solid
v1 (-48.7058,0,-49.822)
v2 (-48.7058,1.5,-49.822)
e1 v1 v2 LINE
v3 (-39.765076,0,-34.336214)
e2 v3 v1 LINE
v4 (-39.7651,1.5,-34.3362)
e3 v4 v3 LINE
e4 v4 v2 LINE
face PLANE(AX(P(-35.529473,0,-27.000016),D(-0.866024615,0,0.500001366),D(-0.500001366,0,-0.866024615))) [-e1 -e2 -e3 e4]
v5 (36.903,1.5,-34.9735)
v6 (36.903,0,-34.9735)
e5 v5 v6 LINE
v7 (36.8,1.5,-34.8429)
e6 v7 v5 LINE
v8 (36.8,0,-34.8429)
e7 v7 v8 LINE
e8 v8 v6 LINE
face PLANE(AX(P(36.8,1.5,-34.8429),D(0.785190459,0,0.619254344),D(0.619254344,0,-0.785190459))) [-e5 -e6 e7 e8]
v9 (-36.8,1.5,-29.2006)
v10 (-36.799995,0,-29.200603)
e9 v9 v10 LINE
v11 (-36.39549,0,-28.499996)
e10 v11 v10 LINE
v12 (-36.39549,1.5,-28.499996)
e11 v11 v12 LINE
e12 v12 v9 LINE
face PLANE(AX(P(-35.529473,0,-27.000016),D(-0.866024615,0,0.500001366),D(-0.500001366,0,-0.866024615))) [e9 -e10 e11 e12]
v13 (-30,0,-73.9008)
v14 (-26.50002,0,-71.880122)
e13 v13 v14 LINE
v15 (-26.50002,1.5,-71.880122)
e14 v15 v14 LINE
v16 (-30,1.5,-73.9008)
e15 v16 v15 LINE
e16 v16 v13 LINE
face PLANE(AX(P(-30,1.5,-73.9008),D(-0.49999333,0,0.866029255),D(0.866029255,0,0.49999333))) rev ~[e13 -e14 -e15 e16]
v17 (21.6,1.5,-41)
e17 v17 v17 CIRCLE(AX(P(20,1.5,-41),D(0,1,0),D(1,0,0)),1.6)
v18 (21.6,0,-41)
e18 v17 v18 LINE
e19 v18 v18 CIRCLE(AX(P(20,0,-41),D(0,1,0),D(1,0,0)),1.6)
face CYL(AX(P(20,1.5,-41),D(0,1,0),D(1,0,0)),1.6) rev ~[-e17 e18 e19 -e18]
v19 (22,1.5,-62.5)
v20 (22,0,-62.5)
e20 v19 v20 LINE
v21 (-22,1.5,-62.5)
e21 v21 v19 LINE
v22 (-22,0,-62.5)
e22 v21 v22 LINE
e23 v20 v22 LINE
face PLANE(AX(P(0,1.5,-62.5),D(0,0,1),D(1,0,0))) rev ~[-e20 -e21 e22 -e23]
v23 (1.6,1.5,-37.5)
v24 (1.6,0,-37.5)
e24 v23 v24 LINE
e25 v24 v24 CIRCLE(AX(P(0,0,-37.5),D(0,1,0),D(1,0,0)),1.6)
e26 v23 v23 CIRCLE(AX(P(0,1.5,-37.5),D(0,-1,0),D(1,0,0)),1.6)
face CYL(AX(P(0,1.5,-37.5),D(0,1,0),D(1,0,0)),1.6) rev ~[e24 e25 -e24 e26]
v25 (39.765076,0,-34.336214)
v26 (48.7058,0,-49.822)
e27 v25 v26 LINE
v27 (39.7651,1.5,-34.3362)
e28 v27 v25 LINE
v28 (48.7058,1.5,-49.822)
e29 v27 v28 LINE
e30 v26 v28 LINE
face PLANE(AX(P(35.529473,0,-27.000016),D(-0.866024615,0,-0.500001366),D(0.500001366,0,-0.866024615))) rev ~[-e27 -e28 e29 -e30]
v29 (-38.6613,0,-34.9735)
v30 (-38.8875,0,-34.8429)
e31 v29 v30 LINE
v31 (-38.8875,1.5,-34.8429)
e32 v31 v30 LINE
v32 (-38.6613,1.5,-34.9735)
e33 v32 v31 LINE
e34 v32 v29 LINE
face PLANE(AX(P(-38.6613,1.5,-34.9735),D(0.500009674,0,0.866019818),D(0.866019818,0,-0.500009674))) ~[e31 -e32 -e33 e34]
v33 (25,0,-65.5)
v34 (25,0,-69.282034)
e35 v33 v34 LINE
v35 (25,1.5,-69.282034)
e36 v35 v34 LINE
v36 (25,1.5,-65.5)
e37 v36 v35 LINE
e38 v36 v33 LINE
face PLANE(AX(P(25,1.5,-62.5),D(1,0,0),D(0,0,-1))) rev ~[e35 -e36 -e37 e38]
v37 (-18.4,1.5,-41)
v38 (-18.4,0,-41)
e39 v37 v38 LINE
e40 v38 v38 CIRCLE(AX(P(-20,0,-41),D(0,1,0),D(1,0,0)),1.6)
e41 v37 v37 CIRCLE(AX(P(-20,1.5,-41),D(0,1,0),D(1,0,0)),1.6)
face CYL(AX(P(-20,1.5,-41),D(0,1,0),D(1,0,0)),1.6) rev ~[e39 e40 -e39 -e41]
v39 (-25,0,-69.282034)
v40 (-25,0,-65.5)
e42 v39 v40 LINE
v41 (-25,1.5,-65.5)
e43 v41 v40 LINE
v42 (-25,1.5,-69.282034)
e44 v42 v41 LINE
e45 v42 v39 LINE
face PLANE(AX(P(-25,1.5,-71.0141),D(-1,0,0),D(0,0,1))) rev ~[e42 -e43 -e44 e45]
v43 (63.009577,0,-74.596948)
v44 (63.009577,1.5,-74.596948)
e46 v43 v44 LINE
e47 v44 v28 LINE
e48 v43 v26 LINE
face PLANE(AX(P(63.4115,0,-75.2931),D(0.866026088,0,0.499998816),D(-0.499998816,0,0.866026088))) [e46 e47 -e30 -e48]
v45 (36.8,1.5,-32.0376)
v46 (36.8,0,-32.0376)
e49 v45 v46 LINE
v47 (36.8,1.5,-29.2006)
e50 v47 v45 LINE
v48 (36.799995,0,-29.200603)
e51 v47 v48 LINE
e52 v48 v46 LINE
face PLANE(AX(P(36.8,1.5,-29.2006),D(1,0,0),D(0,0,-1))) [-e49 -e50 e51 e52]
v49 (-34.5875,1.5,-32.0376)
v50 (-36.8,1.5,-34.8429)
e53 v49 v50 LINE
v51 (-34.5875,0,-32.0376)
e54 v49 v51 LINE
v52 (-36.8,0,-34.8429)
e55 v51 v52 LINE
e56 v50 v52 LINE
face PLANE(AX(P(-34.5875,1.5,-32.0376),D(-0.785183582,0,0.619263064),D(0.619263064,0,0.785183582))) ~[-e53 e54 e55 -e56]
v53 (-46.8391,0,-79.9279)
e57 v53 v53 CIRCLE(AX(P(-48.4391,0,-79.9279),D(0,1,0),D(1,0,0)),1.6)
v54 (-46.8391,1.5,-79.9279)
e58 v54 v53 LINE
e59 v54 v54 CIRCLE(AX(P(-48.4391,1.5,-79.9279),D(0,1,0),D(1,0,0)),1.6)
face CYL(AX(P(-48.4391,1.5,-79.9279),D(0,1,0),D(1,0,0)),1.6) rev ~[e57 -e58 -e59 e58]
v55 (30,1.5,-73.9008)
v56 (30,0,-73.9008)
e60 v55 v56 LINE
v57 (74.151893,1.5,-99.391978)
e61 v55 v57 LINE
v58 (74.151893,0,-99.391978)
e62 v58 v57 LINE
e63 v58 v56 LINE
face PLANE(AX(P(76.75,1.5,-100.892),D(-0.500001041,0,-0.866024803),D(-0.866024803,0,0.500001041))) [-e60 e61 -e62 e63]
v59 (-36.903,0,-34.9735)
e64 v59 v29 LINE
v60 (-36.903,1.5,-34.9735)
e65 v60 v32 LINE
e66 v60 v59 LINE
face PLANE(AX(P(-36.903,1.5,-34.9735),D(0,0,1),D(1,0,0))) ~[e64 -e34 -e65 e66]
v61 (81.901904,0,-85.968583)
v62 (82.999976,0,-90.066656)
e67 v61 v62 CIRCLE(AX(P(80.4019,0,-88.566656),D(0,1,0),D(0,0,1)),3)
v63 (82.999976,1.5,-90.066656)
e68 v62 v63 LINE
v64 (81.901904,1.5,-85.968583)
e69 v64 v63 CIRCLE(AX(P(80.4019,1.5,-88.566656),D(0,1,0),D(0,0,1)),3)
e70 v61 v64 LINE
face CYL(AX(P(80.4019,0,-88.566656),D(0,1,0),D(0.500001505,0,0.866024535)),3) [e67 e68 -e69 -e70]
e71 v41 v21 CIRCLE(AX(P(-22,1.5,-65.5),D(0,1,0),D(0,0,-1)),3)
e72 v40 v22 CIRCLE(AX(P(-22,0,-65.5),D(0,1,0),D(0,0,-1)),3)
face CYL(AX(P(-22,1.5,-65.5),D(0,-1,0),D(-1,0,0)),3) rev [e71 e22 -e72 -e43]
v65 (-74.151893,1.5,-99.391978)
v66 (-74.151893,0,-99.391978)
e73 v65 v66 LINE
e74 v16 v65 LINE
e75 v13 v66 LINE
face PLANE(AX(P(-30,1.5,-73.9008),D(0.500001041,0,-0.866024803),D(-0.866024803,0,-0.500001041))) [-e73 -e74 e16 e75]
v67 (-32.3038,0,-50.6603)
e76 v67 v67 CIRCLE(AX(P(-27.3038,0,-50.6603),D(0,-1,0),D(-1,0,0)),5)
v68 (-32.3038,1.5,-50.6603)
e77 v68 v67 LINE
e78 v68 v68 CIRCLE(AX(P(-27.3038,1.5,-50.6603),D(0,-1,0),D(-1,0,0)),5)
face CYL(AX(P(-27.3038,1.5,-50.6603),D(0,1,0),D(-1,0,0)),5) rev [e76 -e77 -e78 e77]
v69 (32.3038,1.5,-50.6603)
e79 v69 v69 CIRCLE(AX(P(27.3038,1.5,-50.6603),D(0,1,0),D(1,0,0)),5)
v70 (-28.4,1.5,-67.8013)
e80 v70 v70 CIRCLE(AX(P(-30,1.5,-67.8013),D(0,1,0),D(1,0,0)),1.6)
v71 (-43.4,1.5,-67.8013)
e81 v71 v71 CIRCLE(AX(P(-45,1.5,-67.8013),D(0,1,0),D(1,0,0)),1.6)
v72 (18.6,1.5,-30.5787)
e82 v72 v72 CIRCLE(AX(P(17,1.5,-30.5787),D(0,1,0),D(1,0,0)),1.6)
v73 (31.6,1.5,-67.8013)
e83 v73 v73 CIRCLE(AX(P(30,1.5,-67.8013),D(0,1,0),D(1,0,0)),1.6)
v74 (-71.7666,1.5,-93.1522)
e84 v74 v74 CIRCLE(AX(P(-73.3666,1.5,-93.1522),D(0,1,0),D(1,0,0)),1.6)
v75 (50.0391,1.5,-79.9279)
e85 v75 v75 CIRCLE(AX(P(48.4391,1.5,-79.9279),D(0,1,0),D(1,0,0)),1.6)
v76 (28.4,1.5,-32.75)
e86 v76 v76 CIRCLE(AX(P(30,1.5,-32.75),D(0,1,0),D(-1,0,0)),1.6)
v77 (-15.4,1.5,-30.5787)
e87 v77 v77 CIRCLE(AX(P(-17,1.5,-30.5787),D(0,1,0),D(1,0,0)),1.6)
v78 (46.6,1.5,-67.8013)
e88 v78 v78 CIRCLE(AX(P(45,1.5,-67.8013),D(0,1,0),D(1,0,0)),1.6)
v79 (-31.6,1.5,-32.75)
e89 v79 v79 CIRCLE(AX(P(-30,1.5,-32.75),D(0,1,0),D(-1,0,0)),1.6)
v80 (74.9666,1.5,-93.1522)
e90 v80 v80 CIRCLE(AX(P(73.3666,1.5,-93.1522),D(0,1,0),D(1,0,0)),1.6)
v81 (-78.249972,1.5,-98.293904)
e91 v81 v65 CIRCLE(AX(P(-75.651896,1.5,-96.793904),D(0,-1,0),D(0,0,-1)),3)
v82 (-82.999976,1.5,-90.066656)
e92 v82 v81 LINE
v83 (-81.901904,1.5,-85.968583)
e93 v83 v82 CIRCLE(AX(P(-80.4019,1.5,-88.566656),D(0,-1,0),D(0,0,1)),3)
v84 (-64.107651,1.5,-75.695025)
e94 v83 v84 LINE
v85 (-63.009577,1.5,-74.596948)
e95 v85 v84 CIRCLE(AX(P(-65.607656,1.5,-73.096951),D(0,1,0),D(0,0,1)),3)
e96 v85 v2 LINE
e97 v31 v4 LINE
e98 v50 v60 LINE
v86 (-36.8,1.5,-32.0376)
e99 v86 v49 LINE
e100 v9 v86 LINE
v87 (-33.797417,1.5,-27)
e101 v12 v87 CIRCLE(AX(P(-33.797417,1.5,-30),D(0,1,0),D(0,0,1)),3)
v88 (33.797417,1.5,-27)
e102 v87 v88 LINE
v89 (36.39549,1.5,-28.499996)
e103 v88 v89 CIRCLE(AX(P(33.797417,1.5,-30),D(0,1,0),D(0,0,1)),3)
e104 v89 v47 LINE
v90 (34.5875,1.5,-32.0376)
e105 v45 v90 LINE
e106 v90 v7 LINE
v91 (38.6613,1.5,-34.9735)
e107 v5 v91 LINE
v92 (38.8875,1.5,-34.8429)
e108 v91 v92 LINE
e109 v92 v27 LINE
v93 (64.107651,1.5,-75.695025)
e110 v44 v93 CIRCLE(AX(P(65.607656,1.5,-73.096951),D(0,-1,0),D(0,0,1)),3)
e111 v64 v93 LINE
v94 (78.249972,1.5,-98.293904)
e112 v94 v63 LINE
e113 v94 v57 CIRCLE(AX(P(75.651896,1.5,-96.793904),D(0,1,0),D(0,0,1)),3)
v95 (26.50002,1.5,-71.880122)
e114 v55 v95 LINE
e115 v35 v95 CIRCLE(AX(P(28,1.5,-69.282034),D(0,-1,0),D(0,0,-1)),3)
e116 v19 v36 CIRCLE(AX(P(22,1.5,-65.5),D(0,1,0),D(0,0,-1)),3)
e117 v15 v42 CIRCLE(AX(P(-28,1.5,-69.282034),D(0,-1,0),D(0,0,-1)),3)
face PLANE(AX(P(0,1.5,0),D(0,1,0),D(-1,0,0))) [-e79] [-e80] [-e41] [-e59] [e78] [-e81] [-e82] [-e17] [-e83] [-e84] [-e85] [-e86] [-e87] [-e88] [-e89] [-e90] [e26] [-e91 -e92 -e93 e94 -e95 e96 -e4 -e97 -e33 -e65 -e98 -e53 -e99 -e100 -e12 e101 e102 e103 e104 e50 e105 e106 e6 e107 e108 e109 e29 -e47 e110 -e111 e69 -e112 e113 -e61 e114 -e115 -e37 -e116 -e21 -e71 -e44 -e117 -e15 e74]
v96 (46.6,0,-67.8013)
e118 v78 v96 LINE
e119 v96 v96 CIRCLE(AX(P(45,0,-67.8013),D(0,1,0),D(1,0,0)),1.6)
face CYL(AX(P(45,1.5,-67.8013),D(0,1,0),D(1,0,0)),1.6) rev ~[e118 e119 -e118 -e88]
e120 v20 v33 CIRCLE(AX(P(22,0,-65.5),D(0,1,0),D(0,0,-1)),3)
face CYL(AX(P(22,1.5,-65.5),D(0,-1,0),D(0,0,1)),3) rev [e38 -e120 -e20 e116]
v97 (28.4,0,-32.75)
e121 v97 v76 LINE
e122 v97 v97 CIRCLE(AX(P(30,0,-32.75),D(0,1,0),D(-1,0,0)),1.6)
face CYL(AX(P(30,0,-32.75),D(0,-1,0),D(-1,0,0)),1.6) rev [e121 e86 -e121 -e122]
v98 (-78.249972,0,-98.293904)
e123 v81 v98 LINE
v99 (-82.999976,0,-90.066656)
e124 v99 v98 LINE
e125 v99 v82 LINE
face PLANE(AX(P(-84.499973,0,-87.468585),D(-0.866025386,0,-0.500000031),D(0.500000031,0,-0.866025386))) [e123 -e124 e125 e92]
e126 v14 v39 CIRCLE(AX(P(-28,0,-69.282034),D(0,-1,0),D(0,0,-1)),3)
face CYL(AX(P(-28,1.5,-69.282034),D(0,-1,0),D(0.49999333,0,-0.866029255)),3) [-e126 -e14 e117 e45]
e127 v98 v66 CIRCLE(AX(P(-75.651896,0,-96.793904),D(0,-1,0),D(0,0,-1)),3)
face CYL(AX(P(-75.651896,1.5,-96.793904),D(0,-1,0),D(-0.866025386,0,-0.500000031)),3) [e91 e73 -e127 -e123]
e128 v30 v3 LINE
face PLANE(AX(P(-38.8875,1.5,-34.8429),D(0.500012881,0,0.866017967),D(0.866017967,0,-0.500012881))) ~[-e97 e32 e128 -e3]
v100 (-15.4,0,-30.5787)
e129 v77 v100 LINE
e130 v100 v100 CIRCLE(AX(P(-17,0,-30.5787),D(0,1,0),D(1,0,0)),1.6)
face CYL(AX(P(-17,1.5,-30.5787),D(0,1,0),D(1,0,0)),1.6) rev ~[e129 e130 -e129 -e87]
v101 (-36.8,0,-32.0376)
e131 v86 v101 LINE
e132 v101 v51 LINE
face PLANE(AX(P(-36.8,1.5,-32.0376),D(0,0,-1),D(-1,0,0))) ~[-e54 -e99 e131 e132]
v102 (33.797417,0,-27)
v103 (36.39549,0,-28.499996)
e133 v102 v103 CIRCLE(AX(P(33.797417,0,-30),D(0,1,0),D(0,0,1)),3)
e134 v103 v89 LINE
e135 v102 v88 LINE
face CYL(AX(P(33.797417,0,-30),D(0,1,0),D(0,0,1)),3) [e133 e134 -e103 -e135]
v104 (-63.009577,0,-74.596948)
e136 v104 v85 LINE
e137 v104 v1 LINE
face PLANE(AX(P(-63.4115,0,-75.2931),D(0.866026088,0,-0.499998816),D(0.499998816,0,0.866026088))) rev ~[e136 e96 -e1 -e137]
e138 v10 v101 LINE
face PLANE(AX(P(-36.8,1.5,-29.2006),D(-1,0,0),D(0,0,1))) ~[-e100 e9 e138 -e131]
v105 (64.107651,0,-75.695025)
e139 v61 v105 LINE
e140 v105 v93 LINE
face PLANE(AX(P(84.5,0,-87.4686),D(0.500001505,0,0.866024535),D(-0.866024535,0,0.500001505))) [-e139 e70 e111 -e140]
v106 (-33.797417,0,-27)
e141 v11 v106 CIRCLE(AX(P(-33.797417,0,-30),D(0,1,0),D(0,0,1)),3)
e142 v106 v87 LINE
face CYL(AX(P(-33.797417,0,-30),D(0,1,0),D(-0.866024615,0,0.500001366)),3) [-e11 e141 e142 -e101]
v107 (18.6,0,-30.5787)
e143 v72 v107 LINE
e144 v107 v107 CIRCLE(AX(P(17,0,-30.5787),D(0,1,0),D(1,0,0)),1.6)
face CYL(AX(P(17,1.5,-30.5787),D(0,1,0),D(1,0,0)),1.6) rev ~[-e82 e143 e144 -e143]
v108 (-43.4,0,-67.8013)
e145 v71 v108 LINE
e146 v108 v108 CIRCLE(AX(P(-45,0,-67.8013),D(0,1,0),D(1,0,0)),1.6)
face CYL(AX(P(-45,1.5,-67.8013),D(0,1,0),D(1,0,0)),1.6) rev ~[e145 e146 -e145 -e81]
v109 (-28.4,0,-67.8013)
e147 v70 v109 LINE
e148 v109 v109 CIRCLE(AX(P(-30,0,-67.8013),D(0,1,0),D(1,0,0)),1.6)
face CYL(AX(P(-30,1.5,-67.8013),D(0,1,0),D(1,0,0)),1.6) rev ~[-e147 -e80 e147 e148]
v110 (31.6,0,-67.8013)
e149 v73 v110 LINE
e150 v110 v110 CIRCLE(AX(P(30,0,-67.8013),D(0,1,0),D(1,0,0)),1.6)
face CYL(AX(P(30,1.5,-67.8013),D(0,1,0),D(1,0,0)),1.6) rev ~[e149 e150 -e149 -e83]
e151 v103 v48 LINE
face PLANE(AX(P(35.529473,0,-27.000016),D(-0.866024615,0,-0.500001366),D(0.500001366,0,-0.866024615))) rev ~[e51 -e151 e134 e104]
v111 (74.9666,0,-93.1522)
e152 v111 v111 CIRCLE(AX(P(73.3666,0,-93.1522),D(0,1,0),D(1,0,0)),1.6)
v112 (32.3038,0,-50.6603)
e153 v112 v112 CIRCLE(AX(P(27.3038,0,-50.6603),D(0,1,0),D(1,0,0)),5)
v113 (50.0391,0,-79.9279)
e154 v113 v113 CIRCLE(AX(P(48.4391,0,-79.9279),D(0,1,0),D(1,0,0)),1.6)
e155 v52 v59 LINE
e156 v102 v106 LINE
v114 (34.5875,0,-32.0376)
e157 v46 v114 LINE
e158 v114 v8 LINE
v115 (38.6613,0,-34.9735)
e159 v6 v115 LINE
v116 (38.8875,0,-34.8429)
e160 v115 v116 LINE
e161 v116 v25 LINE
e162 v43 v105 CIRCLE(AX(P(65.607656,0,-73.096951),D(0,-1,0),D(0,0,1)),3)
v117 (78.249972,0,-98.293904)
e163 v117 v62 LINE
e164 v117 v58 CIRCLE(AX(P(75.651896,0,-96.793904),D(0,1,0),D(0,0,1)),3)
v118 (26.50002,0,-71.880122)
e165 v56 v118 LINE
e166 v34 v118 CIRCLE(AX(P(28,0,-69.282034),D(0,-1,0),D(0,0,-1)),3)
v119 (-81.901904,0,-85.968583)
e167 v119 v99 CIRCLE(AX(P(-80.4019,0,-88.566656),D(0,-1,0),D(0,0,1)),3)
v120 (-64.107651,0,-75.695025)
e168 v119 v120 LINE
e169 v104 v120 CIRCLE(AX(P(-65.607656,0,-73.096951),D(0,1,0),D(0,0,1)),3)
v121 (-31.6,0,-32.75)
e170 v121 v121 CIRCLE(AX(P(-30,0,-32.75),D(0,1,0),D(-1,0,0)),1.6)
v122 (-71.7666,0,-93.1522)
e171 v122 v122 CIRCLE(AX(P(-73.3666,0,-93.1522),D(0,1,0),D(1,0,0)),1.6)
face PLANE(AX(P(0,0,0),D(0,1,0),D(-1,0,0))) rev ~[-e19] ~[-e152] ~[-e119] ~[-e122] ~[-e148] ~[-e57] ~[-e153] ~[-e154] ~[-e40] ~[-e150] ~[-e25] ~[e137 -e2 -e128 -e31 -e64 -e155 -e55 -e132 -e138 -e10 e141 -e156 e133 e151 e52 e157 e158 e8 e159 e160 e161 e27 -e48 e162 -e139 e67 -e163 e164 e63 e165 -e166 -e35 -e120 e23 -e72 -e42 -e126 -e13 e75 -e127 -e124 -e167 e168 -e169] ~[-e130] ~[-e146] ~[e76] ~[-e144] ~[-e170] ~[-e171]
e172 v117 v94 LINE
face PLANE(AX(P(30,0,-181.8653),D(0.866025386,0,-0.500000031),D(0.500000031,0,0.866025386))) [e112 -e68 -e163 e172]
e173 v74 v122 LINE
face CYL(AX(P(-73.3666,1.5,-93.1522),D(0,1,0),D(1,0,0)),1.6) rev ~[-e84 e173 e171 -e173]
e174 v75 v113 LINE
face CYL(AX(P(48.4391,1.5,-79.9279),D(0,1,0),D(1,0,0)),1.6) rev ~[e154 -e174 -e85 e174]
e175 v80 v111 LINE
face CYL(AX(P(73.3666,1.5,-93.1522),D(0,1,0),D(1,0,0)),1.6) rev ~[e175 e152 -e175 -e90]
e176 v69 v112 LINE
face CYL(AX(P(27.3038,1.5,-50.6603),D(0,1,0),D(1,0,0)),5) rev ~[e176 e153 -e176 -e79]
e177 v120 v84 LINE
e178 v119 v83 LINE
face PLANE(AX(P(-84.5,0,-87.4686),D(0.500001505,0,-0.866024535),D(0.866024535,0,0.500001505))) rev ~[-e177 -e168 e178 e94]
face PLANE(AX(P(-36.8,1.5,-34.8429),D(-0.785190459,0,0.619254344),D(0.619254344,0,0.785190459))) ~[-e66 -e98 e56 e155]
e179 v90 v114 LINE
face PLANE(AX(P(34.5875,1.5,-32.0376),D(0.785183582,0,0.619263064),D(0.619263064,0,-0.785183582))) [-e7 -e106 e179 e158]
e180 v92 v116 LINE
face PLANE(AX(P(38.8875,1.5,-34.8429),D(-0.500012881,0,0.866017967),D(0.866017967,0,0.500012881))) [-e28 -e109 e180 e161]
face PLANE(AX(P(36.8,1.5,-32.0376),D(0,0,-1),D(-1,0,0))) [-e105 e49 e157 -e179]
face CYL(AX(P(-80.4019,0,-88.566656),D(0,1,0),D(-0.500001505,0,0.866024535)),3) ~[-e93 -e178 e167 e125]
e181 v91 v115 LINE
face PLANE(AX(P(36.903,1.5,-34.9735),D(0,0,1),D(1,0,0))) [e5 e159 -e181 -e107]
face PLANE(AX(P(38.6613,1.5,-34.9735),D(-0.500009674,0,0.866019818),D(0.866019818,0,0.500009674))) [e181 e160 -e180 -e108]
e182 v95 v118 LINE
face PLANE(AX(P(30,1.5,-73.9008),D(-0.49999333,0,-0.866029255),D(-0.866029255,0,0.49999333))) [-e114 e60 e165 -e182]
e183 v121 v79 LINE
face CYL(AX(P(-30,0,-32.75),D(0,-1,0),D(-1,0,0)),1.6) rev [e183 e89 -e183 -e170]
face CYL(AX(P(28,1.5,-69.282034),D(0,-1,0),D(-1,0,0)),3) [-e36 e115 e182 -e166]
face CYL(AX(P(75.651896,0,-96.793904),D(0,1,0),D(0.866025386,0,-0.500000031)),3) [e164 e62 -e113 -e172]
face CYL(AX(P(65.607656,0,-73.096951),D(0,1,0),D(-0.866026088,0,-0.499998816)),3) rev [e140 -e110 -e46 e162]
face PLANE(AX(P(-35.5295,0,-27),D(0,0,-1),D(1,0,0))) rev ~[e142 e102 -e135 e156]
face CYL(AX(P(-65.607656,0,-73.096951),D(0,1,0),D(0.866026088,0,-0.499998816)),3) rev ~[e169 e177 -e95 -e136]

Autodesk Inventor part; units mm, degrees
ref_plane "YZ Plane" through (0, 0, 0) normal (1, 0, 0) x (0, 1, 0)
ref_plane "XZ Plane" through (0, 0, 0) normal (0, 1, 0) x (-1, 0, 0)
ref_plane "XY Plane" through (0, 0, 0) normal (0, 0, 1) x (1, 0, 0)
sketch "スケッチ1" plane through (0, 0, 0) normal (0, 1, 0) x (-1, 0, 0)
  line L0 (75, 0) -> (105, -51.9615)
  line L1 (-75, 0) -> (-105, -51.9615)
  line L2 (0, -218.2384) -> (0, 36.3731)
  line L3 (147, 0) -> (-147, 0)
  line L4 (105, -51.9615) -> (30, -181.8653)
  line L5 (30, -181.8653) -> (-30, -181.8653)
  line L6 (-30, -181.8653) -> (-105, -51.9615)
  line L7 (75, 0) -> (-75, 0)
  line L8 (34, 0) -> (34, -24.3509)
  line L9 (34, -24.3509) -> (48.7058, -49.822)
  line L10 (48.7058, -49.822) -> (90, -25.9808)
  line L11 (45, 0) -> (45, -18) construction
  line L12 (45, -18) -> (34, -24.3509) construction
  line L13 (84.5, -87.4686) -> (63.4115, -75.2931)
  line L14 (63.4115, -75.2931) -> (48.7058, -49.822)
  line L15 (-34, 0) -> (-34, -24.3509)
  line L16 (-34, -24.3509) -> (-48.7058, -49.822)
  line L17 (-63.4115, -75.2931) -> (-48.7058, -49.822)
  line L18 (-84.5, -87.4686) -> (-63.4115, -75.2931)
  circle A0 centre (30, -32.75) radius 1.6
  circle A1 centre (-30, -32.75) radius 1.6
  line L19 (35.5295, -27) -> (-35.5295, -27)
  point P0 (0, 0)
  point P1 (0, 0)
  point P2 (0, -27)
  dimension "d1" = 150
  dimension "d2" = 60
  dimension "d3" = 60
  dimension "d6" = 60
  dimension "d30" = 60
  dimension "d31" = 18
  dimension "d32" = 30
  dimension "d33" = 41
  dimension "d34" = 3.2
  dimension "d35" = 30
  dimension "d36" = 32.75
  dimension "d37" = 27
extrude "プレート1" add sketch "スケッチ1" along normal blind 1.5 contours L14 L13 L4 L5 L2 L19 L9 | L2 L5 L6 L18 L17 L16 L19
sketch "スケッチ4" plane through (0, 1.5, 0) normal (0, 1, 0) x (1, 0, 0)
  circle A0 centre (30, 67.8013) radius 1.6
  circle A1 centre (45, 67.8013) radius 1.6
  line L0 (0, 218.2384) -> (0, -36.3731)
  circle A2 centre (-30, 67.8013) radius 1.6
  circle A3 centre (-45, 67.8013) radius 1.6
  line L1 (61.6173, 73.1025) -> (25, 73.1025) construction
  line L2 (25, 73.1025) -> (25, 62.5) construction
  line L3 (-61.6173, 73.1025) -> (-25, 73.1025) construction
  line L4 (-25, 73.1025) -> (-25, 62.5) construction
  line L5 (-25, 62.5) -> (25, 62.5)
  line L6 (30, 73.1025) -> (30, 181.8653)
  line L7 (30, 181.8653) -> (-30, 181.8653)
  line L8 (-30, 181.8653) -> (-30, 73.1025)
  line L9 (-25, 62.5) -> (25, 62.5)
  line L10 (25, 62.5) -> (25, 71.0141)
  line L11 (-25, 71.0141) -> (-25, 62.5)
  line L12 (30, 181.8653) -> (84.5, 87.4686)
  line L13 (76.75, 100.892) -> (30, 73.9008)
  line L14 (-30, 73.9008) -> (-76.75, 100.892)
  line L15 (-84.5, 87.4686) -> (-30, 181.8653)
  line L16 (84.5, 87.4686) -> (63.4115, 75.2931)
  line L17 (-63.4115, 75.2931) -> (-84.5, 87.4686)
  line L18 (-35.5295, 27) -> (-63.4115, 75.2931)
  line L19 (62.8673, 70.9375) -> (54.6673, 85.1403)
  arc A4 (54.6673, 85.1403) -> (44.275, 79.1403) centre (49.4712, 82.1403) ccw
  line L20 (44.275, 79.1403) -> (52.475, 64.9375)
  line L21 (52.475, 64.9375) -> (62.8673, 70.9375)
  line L22 (51.2321, 85.1903) -> (52.993, 82.1403)
  line L23 (52.993, 82.1403) -> (51.2321, 79.0903)
  line L24 (51.2321, 79.0903) -> (47.7102, 79.0903)
  line L25 (47.7102, 79.0903) -> (45.9493, 82.1403)
  line L26 (45.9493, 82.1403) -> (47.7102, 85.1903)
  line L27 (47.7102, 85.1903) -> (51.2321, 85.1903)
  line L28 (-30, 73.9008) -> (-25, 71.0141)
  line L29 (30, 73.9008) -> (25, 71.0141)
  point P0 (0, 0)
extrude "切り取り3" cut sketch "スケッチ4" against normal blind 1.5 contours A0 | A1 | L7 L6 L29 L10 L5 L0 | L0 L5 L11 L28 L8 L7 | L12 L13 A4 L6 | L8 L14 L15 | A4 L13 L27 L26 | L26 L27 L13 | A2 | A3
sketch "スケッチ5" plane through (0, 1.5, 0) normal (0, 1, 0) x (1, 0, 0)
  line L0 (-75, 44) -> (75, 44) projected
  circle A0 centre (-20, 41) radius 3
  circle A1 centre (20, 41) radius 3
  line L1 (-25, 62.5) -> (25, 62.5) projected
  line L2 (0, 62.5) -> (0, 27)
  line L3 (35.5295, 27) -> (-35.5295, 27) projected
  circle A2 centre (-20, 41) radius 1.6
  circle A3 centre (20, 41) radius 1.6
  circle A4 centre (0, 37.5) radius 1.6
  point P0 (0, 0)
  dimension "d41" = 6
  dimension "d42" = 6
  dimension "d43" = 40
  dimension "d44" = 3.2
  dimension "d45" = 3.2
  dimension "d46" = 3.2
  dimension "d47" = 3.5
extrude "切り取り4" cut sketch "スケッチ5" against normal blind 1.5 contours A4 L2 | L2 A4 | A2 | A3
sketch "スケッチ6" plane through (0, 1.5, 0) normal (0, 1, 0) x (1, 0, 0)
  ellipse E0 centre (-73.3666, 93.1522) end of major axis (-72.2841, 92.5272) minor radius 1.2133 projected
  circle A0 centre (-48.4391, 79.9279) radius 1.6
  circle A1 centre (-73.3666, 93.1522) radius 1.6
  line L0 (0, 0) -> (0, 20.4537)
  circle A2 centre (48.4391, 79.9279) radius 1.6
  circle A3 centre (73.3666, 93.1522) radius 1.6
  circle A4 centre (-48.4391, 79.9279) radius 1.35 projected
  dimension "d51" = 3.2
  dimension "d52" = 3.2
extrude "切り取り5" cut sketch "スケッチ6" against normal blind 1.5 contours E0 | A0 | A1 | A2 | A3 | A4
fillet "フィレット2" radius 3 12 edges at (-84.5, 0.75, -87.4686) (-76.75, 0.75, -100.892) (-63.4115, 0.75, -75.2931) (-35.5295, 0.75, -27) (35.5295, 0.75, -27) (63.4115, 0.75, -75.2931) (84.5, 0.75, -87.4686) (76.75, 0.75, -100.892) (25, 0.75, -62.5) (-25, 0.75, -62.5) (-25, 0.75, -71.0141) (25, 0.75, -71.0141)
sketch "スケッチ7" plane through (0, 1.5, 0) normal (0, 1, 0) x (1, 0, 0)
  circle A0 centre (-17, 30.5787) radius 1.6
  circle A1 centre (17, 30.5787) radius 1.6
  point P0 (0, 0)
extrude "切り取り6" cut sketch "スケッチ7" against normal blind 1.5
sketch "スケッチ8" plane through (0, 1.5, 0) normal (0, 1, 0) x (1, 0, 0)
  line L0 (37, 32.2376) -> (37, 27.2376) construction
  line L1 (35, 32.2376) -> (37, 32.2376) construction
  line L2 (37, 34.7735) -> (35, 32.2376) construction
  line L3 (38.6077, 34.7735) -> (37, 34.7735) construction
  line L4 (40.6651, 33.5857) -> (38.6077, 34.7735) construction
  line L5 (63.0096, 74.597) -> (36.3955, 28.5) projected
  line L6 (36.8, 29.2006) -> (36.8, 32.0376)
  line L7 (36.8, 32.0376) -> (34.5875, 32.0376)
  line L8 (34.5875, 32.0376) -> (36.8, 34.8429)
  line L9 (38.8875, 34.8429) -> (39.7651, 34.3362)
  line L10 (36.8, 34.8429) -> (36.903, 34.9735)
  line L11 (36.903, 34.9735) -> (38.6613, 34.9735)
  line L12 (38.6613, 34.9735) -> (38.8876, 34.8428)
  line L13 (39.7651, 34.3362) -> (36.8, 29.2006)
  point P0 (0, 0)
  dimension "d58" = 0.2
  dimension "d59" = 0.2
  dimension "d60" = 0.2
  dimension "d61" = 0.2
  dimension "d62" = 0.2
extrude "押し出し1" cut sketch "スケッチ8" against normal through all
mirror "ミラー1" about plane through (0, 0, 0) normal (1, 0, 0) of "押し出し1"
sketch "スケッチ9" plane through (0, 1.5, 0) normal (0, 1, 0) x (1, 0, 0)
  circle A0 centre (27.3038, 50.6603) radius 1.6
  circle A1 centre (27.3038, 50.6603) radius 5
  point P0 (0, 0)
  dimension "d65" = 10
extrude "切り取り7" cut sketch "スケッチ9" against normal blind 1.5 contours A0 | A1
mirror "ミラー2" about plane through (0, 0, 0) normal (1, 0, 0) of "切り取り7"
equation "\"d3\" = d2"
equation "\"d38\" = Thickness"
equation "\"d41\" = d42"
equation "\"d48\" = Thickness"
equation "\"d53\" = Thickness"
equation "\"d56\" = Thickness"
equation "\"d58\" = d61"
equation "\"d59\" = d61"
equation "\"d60\" = d61"
equation "\"d62\" = d61"
equation "\"d66\" = Thickness"
equation "\"d16\" = Thickness"
equation "\"Thickness\" = 1.5"
properties part number "upper_plate" material "アルミニウム 6061"
